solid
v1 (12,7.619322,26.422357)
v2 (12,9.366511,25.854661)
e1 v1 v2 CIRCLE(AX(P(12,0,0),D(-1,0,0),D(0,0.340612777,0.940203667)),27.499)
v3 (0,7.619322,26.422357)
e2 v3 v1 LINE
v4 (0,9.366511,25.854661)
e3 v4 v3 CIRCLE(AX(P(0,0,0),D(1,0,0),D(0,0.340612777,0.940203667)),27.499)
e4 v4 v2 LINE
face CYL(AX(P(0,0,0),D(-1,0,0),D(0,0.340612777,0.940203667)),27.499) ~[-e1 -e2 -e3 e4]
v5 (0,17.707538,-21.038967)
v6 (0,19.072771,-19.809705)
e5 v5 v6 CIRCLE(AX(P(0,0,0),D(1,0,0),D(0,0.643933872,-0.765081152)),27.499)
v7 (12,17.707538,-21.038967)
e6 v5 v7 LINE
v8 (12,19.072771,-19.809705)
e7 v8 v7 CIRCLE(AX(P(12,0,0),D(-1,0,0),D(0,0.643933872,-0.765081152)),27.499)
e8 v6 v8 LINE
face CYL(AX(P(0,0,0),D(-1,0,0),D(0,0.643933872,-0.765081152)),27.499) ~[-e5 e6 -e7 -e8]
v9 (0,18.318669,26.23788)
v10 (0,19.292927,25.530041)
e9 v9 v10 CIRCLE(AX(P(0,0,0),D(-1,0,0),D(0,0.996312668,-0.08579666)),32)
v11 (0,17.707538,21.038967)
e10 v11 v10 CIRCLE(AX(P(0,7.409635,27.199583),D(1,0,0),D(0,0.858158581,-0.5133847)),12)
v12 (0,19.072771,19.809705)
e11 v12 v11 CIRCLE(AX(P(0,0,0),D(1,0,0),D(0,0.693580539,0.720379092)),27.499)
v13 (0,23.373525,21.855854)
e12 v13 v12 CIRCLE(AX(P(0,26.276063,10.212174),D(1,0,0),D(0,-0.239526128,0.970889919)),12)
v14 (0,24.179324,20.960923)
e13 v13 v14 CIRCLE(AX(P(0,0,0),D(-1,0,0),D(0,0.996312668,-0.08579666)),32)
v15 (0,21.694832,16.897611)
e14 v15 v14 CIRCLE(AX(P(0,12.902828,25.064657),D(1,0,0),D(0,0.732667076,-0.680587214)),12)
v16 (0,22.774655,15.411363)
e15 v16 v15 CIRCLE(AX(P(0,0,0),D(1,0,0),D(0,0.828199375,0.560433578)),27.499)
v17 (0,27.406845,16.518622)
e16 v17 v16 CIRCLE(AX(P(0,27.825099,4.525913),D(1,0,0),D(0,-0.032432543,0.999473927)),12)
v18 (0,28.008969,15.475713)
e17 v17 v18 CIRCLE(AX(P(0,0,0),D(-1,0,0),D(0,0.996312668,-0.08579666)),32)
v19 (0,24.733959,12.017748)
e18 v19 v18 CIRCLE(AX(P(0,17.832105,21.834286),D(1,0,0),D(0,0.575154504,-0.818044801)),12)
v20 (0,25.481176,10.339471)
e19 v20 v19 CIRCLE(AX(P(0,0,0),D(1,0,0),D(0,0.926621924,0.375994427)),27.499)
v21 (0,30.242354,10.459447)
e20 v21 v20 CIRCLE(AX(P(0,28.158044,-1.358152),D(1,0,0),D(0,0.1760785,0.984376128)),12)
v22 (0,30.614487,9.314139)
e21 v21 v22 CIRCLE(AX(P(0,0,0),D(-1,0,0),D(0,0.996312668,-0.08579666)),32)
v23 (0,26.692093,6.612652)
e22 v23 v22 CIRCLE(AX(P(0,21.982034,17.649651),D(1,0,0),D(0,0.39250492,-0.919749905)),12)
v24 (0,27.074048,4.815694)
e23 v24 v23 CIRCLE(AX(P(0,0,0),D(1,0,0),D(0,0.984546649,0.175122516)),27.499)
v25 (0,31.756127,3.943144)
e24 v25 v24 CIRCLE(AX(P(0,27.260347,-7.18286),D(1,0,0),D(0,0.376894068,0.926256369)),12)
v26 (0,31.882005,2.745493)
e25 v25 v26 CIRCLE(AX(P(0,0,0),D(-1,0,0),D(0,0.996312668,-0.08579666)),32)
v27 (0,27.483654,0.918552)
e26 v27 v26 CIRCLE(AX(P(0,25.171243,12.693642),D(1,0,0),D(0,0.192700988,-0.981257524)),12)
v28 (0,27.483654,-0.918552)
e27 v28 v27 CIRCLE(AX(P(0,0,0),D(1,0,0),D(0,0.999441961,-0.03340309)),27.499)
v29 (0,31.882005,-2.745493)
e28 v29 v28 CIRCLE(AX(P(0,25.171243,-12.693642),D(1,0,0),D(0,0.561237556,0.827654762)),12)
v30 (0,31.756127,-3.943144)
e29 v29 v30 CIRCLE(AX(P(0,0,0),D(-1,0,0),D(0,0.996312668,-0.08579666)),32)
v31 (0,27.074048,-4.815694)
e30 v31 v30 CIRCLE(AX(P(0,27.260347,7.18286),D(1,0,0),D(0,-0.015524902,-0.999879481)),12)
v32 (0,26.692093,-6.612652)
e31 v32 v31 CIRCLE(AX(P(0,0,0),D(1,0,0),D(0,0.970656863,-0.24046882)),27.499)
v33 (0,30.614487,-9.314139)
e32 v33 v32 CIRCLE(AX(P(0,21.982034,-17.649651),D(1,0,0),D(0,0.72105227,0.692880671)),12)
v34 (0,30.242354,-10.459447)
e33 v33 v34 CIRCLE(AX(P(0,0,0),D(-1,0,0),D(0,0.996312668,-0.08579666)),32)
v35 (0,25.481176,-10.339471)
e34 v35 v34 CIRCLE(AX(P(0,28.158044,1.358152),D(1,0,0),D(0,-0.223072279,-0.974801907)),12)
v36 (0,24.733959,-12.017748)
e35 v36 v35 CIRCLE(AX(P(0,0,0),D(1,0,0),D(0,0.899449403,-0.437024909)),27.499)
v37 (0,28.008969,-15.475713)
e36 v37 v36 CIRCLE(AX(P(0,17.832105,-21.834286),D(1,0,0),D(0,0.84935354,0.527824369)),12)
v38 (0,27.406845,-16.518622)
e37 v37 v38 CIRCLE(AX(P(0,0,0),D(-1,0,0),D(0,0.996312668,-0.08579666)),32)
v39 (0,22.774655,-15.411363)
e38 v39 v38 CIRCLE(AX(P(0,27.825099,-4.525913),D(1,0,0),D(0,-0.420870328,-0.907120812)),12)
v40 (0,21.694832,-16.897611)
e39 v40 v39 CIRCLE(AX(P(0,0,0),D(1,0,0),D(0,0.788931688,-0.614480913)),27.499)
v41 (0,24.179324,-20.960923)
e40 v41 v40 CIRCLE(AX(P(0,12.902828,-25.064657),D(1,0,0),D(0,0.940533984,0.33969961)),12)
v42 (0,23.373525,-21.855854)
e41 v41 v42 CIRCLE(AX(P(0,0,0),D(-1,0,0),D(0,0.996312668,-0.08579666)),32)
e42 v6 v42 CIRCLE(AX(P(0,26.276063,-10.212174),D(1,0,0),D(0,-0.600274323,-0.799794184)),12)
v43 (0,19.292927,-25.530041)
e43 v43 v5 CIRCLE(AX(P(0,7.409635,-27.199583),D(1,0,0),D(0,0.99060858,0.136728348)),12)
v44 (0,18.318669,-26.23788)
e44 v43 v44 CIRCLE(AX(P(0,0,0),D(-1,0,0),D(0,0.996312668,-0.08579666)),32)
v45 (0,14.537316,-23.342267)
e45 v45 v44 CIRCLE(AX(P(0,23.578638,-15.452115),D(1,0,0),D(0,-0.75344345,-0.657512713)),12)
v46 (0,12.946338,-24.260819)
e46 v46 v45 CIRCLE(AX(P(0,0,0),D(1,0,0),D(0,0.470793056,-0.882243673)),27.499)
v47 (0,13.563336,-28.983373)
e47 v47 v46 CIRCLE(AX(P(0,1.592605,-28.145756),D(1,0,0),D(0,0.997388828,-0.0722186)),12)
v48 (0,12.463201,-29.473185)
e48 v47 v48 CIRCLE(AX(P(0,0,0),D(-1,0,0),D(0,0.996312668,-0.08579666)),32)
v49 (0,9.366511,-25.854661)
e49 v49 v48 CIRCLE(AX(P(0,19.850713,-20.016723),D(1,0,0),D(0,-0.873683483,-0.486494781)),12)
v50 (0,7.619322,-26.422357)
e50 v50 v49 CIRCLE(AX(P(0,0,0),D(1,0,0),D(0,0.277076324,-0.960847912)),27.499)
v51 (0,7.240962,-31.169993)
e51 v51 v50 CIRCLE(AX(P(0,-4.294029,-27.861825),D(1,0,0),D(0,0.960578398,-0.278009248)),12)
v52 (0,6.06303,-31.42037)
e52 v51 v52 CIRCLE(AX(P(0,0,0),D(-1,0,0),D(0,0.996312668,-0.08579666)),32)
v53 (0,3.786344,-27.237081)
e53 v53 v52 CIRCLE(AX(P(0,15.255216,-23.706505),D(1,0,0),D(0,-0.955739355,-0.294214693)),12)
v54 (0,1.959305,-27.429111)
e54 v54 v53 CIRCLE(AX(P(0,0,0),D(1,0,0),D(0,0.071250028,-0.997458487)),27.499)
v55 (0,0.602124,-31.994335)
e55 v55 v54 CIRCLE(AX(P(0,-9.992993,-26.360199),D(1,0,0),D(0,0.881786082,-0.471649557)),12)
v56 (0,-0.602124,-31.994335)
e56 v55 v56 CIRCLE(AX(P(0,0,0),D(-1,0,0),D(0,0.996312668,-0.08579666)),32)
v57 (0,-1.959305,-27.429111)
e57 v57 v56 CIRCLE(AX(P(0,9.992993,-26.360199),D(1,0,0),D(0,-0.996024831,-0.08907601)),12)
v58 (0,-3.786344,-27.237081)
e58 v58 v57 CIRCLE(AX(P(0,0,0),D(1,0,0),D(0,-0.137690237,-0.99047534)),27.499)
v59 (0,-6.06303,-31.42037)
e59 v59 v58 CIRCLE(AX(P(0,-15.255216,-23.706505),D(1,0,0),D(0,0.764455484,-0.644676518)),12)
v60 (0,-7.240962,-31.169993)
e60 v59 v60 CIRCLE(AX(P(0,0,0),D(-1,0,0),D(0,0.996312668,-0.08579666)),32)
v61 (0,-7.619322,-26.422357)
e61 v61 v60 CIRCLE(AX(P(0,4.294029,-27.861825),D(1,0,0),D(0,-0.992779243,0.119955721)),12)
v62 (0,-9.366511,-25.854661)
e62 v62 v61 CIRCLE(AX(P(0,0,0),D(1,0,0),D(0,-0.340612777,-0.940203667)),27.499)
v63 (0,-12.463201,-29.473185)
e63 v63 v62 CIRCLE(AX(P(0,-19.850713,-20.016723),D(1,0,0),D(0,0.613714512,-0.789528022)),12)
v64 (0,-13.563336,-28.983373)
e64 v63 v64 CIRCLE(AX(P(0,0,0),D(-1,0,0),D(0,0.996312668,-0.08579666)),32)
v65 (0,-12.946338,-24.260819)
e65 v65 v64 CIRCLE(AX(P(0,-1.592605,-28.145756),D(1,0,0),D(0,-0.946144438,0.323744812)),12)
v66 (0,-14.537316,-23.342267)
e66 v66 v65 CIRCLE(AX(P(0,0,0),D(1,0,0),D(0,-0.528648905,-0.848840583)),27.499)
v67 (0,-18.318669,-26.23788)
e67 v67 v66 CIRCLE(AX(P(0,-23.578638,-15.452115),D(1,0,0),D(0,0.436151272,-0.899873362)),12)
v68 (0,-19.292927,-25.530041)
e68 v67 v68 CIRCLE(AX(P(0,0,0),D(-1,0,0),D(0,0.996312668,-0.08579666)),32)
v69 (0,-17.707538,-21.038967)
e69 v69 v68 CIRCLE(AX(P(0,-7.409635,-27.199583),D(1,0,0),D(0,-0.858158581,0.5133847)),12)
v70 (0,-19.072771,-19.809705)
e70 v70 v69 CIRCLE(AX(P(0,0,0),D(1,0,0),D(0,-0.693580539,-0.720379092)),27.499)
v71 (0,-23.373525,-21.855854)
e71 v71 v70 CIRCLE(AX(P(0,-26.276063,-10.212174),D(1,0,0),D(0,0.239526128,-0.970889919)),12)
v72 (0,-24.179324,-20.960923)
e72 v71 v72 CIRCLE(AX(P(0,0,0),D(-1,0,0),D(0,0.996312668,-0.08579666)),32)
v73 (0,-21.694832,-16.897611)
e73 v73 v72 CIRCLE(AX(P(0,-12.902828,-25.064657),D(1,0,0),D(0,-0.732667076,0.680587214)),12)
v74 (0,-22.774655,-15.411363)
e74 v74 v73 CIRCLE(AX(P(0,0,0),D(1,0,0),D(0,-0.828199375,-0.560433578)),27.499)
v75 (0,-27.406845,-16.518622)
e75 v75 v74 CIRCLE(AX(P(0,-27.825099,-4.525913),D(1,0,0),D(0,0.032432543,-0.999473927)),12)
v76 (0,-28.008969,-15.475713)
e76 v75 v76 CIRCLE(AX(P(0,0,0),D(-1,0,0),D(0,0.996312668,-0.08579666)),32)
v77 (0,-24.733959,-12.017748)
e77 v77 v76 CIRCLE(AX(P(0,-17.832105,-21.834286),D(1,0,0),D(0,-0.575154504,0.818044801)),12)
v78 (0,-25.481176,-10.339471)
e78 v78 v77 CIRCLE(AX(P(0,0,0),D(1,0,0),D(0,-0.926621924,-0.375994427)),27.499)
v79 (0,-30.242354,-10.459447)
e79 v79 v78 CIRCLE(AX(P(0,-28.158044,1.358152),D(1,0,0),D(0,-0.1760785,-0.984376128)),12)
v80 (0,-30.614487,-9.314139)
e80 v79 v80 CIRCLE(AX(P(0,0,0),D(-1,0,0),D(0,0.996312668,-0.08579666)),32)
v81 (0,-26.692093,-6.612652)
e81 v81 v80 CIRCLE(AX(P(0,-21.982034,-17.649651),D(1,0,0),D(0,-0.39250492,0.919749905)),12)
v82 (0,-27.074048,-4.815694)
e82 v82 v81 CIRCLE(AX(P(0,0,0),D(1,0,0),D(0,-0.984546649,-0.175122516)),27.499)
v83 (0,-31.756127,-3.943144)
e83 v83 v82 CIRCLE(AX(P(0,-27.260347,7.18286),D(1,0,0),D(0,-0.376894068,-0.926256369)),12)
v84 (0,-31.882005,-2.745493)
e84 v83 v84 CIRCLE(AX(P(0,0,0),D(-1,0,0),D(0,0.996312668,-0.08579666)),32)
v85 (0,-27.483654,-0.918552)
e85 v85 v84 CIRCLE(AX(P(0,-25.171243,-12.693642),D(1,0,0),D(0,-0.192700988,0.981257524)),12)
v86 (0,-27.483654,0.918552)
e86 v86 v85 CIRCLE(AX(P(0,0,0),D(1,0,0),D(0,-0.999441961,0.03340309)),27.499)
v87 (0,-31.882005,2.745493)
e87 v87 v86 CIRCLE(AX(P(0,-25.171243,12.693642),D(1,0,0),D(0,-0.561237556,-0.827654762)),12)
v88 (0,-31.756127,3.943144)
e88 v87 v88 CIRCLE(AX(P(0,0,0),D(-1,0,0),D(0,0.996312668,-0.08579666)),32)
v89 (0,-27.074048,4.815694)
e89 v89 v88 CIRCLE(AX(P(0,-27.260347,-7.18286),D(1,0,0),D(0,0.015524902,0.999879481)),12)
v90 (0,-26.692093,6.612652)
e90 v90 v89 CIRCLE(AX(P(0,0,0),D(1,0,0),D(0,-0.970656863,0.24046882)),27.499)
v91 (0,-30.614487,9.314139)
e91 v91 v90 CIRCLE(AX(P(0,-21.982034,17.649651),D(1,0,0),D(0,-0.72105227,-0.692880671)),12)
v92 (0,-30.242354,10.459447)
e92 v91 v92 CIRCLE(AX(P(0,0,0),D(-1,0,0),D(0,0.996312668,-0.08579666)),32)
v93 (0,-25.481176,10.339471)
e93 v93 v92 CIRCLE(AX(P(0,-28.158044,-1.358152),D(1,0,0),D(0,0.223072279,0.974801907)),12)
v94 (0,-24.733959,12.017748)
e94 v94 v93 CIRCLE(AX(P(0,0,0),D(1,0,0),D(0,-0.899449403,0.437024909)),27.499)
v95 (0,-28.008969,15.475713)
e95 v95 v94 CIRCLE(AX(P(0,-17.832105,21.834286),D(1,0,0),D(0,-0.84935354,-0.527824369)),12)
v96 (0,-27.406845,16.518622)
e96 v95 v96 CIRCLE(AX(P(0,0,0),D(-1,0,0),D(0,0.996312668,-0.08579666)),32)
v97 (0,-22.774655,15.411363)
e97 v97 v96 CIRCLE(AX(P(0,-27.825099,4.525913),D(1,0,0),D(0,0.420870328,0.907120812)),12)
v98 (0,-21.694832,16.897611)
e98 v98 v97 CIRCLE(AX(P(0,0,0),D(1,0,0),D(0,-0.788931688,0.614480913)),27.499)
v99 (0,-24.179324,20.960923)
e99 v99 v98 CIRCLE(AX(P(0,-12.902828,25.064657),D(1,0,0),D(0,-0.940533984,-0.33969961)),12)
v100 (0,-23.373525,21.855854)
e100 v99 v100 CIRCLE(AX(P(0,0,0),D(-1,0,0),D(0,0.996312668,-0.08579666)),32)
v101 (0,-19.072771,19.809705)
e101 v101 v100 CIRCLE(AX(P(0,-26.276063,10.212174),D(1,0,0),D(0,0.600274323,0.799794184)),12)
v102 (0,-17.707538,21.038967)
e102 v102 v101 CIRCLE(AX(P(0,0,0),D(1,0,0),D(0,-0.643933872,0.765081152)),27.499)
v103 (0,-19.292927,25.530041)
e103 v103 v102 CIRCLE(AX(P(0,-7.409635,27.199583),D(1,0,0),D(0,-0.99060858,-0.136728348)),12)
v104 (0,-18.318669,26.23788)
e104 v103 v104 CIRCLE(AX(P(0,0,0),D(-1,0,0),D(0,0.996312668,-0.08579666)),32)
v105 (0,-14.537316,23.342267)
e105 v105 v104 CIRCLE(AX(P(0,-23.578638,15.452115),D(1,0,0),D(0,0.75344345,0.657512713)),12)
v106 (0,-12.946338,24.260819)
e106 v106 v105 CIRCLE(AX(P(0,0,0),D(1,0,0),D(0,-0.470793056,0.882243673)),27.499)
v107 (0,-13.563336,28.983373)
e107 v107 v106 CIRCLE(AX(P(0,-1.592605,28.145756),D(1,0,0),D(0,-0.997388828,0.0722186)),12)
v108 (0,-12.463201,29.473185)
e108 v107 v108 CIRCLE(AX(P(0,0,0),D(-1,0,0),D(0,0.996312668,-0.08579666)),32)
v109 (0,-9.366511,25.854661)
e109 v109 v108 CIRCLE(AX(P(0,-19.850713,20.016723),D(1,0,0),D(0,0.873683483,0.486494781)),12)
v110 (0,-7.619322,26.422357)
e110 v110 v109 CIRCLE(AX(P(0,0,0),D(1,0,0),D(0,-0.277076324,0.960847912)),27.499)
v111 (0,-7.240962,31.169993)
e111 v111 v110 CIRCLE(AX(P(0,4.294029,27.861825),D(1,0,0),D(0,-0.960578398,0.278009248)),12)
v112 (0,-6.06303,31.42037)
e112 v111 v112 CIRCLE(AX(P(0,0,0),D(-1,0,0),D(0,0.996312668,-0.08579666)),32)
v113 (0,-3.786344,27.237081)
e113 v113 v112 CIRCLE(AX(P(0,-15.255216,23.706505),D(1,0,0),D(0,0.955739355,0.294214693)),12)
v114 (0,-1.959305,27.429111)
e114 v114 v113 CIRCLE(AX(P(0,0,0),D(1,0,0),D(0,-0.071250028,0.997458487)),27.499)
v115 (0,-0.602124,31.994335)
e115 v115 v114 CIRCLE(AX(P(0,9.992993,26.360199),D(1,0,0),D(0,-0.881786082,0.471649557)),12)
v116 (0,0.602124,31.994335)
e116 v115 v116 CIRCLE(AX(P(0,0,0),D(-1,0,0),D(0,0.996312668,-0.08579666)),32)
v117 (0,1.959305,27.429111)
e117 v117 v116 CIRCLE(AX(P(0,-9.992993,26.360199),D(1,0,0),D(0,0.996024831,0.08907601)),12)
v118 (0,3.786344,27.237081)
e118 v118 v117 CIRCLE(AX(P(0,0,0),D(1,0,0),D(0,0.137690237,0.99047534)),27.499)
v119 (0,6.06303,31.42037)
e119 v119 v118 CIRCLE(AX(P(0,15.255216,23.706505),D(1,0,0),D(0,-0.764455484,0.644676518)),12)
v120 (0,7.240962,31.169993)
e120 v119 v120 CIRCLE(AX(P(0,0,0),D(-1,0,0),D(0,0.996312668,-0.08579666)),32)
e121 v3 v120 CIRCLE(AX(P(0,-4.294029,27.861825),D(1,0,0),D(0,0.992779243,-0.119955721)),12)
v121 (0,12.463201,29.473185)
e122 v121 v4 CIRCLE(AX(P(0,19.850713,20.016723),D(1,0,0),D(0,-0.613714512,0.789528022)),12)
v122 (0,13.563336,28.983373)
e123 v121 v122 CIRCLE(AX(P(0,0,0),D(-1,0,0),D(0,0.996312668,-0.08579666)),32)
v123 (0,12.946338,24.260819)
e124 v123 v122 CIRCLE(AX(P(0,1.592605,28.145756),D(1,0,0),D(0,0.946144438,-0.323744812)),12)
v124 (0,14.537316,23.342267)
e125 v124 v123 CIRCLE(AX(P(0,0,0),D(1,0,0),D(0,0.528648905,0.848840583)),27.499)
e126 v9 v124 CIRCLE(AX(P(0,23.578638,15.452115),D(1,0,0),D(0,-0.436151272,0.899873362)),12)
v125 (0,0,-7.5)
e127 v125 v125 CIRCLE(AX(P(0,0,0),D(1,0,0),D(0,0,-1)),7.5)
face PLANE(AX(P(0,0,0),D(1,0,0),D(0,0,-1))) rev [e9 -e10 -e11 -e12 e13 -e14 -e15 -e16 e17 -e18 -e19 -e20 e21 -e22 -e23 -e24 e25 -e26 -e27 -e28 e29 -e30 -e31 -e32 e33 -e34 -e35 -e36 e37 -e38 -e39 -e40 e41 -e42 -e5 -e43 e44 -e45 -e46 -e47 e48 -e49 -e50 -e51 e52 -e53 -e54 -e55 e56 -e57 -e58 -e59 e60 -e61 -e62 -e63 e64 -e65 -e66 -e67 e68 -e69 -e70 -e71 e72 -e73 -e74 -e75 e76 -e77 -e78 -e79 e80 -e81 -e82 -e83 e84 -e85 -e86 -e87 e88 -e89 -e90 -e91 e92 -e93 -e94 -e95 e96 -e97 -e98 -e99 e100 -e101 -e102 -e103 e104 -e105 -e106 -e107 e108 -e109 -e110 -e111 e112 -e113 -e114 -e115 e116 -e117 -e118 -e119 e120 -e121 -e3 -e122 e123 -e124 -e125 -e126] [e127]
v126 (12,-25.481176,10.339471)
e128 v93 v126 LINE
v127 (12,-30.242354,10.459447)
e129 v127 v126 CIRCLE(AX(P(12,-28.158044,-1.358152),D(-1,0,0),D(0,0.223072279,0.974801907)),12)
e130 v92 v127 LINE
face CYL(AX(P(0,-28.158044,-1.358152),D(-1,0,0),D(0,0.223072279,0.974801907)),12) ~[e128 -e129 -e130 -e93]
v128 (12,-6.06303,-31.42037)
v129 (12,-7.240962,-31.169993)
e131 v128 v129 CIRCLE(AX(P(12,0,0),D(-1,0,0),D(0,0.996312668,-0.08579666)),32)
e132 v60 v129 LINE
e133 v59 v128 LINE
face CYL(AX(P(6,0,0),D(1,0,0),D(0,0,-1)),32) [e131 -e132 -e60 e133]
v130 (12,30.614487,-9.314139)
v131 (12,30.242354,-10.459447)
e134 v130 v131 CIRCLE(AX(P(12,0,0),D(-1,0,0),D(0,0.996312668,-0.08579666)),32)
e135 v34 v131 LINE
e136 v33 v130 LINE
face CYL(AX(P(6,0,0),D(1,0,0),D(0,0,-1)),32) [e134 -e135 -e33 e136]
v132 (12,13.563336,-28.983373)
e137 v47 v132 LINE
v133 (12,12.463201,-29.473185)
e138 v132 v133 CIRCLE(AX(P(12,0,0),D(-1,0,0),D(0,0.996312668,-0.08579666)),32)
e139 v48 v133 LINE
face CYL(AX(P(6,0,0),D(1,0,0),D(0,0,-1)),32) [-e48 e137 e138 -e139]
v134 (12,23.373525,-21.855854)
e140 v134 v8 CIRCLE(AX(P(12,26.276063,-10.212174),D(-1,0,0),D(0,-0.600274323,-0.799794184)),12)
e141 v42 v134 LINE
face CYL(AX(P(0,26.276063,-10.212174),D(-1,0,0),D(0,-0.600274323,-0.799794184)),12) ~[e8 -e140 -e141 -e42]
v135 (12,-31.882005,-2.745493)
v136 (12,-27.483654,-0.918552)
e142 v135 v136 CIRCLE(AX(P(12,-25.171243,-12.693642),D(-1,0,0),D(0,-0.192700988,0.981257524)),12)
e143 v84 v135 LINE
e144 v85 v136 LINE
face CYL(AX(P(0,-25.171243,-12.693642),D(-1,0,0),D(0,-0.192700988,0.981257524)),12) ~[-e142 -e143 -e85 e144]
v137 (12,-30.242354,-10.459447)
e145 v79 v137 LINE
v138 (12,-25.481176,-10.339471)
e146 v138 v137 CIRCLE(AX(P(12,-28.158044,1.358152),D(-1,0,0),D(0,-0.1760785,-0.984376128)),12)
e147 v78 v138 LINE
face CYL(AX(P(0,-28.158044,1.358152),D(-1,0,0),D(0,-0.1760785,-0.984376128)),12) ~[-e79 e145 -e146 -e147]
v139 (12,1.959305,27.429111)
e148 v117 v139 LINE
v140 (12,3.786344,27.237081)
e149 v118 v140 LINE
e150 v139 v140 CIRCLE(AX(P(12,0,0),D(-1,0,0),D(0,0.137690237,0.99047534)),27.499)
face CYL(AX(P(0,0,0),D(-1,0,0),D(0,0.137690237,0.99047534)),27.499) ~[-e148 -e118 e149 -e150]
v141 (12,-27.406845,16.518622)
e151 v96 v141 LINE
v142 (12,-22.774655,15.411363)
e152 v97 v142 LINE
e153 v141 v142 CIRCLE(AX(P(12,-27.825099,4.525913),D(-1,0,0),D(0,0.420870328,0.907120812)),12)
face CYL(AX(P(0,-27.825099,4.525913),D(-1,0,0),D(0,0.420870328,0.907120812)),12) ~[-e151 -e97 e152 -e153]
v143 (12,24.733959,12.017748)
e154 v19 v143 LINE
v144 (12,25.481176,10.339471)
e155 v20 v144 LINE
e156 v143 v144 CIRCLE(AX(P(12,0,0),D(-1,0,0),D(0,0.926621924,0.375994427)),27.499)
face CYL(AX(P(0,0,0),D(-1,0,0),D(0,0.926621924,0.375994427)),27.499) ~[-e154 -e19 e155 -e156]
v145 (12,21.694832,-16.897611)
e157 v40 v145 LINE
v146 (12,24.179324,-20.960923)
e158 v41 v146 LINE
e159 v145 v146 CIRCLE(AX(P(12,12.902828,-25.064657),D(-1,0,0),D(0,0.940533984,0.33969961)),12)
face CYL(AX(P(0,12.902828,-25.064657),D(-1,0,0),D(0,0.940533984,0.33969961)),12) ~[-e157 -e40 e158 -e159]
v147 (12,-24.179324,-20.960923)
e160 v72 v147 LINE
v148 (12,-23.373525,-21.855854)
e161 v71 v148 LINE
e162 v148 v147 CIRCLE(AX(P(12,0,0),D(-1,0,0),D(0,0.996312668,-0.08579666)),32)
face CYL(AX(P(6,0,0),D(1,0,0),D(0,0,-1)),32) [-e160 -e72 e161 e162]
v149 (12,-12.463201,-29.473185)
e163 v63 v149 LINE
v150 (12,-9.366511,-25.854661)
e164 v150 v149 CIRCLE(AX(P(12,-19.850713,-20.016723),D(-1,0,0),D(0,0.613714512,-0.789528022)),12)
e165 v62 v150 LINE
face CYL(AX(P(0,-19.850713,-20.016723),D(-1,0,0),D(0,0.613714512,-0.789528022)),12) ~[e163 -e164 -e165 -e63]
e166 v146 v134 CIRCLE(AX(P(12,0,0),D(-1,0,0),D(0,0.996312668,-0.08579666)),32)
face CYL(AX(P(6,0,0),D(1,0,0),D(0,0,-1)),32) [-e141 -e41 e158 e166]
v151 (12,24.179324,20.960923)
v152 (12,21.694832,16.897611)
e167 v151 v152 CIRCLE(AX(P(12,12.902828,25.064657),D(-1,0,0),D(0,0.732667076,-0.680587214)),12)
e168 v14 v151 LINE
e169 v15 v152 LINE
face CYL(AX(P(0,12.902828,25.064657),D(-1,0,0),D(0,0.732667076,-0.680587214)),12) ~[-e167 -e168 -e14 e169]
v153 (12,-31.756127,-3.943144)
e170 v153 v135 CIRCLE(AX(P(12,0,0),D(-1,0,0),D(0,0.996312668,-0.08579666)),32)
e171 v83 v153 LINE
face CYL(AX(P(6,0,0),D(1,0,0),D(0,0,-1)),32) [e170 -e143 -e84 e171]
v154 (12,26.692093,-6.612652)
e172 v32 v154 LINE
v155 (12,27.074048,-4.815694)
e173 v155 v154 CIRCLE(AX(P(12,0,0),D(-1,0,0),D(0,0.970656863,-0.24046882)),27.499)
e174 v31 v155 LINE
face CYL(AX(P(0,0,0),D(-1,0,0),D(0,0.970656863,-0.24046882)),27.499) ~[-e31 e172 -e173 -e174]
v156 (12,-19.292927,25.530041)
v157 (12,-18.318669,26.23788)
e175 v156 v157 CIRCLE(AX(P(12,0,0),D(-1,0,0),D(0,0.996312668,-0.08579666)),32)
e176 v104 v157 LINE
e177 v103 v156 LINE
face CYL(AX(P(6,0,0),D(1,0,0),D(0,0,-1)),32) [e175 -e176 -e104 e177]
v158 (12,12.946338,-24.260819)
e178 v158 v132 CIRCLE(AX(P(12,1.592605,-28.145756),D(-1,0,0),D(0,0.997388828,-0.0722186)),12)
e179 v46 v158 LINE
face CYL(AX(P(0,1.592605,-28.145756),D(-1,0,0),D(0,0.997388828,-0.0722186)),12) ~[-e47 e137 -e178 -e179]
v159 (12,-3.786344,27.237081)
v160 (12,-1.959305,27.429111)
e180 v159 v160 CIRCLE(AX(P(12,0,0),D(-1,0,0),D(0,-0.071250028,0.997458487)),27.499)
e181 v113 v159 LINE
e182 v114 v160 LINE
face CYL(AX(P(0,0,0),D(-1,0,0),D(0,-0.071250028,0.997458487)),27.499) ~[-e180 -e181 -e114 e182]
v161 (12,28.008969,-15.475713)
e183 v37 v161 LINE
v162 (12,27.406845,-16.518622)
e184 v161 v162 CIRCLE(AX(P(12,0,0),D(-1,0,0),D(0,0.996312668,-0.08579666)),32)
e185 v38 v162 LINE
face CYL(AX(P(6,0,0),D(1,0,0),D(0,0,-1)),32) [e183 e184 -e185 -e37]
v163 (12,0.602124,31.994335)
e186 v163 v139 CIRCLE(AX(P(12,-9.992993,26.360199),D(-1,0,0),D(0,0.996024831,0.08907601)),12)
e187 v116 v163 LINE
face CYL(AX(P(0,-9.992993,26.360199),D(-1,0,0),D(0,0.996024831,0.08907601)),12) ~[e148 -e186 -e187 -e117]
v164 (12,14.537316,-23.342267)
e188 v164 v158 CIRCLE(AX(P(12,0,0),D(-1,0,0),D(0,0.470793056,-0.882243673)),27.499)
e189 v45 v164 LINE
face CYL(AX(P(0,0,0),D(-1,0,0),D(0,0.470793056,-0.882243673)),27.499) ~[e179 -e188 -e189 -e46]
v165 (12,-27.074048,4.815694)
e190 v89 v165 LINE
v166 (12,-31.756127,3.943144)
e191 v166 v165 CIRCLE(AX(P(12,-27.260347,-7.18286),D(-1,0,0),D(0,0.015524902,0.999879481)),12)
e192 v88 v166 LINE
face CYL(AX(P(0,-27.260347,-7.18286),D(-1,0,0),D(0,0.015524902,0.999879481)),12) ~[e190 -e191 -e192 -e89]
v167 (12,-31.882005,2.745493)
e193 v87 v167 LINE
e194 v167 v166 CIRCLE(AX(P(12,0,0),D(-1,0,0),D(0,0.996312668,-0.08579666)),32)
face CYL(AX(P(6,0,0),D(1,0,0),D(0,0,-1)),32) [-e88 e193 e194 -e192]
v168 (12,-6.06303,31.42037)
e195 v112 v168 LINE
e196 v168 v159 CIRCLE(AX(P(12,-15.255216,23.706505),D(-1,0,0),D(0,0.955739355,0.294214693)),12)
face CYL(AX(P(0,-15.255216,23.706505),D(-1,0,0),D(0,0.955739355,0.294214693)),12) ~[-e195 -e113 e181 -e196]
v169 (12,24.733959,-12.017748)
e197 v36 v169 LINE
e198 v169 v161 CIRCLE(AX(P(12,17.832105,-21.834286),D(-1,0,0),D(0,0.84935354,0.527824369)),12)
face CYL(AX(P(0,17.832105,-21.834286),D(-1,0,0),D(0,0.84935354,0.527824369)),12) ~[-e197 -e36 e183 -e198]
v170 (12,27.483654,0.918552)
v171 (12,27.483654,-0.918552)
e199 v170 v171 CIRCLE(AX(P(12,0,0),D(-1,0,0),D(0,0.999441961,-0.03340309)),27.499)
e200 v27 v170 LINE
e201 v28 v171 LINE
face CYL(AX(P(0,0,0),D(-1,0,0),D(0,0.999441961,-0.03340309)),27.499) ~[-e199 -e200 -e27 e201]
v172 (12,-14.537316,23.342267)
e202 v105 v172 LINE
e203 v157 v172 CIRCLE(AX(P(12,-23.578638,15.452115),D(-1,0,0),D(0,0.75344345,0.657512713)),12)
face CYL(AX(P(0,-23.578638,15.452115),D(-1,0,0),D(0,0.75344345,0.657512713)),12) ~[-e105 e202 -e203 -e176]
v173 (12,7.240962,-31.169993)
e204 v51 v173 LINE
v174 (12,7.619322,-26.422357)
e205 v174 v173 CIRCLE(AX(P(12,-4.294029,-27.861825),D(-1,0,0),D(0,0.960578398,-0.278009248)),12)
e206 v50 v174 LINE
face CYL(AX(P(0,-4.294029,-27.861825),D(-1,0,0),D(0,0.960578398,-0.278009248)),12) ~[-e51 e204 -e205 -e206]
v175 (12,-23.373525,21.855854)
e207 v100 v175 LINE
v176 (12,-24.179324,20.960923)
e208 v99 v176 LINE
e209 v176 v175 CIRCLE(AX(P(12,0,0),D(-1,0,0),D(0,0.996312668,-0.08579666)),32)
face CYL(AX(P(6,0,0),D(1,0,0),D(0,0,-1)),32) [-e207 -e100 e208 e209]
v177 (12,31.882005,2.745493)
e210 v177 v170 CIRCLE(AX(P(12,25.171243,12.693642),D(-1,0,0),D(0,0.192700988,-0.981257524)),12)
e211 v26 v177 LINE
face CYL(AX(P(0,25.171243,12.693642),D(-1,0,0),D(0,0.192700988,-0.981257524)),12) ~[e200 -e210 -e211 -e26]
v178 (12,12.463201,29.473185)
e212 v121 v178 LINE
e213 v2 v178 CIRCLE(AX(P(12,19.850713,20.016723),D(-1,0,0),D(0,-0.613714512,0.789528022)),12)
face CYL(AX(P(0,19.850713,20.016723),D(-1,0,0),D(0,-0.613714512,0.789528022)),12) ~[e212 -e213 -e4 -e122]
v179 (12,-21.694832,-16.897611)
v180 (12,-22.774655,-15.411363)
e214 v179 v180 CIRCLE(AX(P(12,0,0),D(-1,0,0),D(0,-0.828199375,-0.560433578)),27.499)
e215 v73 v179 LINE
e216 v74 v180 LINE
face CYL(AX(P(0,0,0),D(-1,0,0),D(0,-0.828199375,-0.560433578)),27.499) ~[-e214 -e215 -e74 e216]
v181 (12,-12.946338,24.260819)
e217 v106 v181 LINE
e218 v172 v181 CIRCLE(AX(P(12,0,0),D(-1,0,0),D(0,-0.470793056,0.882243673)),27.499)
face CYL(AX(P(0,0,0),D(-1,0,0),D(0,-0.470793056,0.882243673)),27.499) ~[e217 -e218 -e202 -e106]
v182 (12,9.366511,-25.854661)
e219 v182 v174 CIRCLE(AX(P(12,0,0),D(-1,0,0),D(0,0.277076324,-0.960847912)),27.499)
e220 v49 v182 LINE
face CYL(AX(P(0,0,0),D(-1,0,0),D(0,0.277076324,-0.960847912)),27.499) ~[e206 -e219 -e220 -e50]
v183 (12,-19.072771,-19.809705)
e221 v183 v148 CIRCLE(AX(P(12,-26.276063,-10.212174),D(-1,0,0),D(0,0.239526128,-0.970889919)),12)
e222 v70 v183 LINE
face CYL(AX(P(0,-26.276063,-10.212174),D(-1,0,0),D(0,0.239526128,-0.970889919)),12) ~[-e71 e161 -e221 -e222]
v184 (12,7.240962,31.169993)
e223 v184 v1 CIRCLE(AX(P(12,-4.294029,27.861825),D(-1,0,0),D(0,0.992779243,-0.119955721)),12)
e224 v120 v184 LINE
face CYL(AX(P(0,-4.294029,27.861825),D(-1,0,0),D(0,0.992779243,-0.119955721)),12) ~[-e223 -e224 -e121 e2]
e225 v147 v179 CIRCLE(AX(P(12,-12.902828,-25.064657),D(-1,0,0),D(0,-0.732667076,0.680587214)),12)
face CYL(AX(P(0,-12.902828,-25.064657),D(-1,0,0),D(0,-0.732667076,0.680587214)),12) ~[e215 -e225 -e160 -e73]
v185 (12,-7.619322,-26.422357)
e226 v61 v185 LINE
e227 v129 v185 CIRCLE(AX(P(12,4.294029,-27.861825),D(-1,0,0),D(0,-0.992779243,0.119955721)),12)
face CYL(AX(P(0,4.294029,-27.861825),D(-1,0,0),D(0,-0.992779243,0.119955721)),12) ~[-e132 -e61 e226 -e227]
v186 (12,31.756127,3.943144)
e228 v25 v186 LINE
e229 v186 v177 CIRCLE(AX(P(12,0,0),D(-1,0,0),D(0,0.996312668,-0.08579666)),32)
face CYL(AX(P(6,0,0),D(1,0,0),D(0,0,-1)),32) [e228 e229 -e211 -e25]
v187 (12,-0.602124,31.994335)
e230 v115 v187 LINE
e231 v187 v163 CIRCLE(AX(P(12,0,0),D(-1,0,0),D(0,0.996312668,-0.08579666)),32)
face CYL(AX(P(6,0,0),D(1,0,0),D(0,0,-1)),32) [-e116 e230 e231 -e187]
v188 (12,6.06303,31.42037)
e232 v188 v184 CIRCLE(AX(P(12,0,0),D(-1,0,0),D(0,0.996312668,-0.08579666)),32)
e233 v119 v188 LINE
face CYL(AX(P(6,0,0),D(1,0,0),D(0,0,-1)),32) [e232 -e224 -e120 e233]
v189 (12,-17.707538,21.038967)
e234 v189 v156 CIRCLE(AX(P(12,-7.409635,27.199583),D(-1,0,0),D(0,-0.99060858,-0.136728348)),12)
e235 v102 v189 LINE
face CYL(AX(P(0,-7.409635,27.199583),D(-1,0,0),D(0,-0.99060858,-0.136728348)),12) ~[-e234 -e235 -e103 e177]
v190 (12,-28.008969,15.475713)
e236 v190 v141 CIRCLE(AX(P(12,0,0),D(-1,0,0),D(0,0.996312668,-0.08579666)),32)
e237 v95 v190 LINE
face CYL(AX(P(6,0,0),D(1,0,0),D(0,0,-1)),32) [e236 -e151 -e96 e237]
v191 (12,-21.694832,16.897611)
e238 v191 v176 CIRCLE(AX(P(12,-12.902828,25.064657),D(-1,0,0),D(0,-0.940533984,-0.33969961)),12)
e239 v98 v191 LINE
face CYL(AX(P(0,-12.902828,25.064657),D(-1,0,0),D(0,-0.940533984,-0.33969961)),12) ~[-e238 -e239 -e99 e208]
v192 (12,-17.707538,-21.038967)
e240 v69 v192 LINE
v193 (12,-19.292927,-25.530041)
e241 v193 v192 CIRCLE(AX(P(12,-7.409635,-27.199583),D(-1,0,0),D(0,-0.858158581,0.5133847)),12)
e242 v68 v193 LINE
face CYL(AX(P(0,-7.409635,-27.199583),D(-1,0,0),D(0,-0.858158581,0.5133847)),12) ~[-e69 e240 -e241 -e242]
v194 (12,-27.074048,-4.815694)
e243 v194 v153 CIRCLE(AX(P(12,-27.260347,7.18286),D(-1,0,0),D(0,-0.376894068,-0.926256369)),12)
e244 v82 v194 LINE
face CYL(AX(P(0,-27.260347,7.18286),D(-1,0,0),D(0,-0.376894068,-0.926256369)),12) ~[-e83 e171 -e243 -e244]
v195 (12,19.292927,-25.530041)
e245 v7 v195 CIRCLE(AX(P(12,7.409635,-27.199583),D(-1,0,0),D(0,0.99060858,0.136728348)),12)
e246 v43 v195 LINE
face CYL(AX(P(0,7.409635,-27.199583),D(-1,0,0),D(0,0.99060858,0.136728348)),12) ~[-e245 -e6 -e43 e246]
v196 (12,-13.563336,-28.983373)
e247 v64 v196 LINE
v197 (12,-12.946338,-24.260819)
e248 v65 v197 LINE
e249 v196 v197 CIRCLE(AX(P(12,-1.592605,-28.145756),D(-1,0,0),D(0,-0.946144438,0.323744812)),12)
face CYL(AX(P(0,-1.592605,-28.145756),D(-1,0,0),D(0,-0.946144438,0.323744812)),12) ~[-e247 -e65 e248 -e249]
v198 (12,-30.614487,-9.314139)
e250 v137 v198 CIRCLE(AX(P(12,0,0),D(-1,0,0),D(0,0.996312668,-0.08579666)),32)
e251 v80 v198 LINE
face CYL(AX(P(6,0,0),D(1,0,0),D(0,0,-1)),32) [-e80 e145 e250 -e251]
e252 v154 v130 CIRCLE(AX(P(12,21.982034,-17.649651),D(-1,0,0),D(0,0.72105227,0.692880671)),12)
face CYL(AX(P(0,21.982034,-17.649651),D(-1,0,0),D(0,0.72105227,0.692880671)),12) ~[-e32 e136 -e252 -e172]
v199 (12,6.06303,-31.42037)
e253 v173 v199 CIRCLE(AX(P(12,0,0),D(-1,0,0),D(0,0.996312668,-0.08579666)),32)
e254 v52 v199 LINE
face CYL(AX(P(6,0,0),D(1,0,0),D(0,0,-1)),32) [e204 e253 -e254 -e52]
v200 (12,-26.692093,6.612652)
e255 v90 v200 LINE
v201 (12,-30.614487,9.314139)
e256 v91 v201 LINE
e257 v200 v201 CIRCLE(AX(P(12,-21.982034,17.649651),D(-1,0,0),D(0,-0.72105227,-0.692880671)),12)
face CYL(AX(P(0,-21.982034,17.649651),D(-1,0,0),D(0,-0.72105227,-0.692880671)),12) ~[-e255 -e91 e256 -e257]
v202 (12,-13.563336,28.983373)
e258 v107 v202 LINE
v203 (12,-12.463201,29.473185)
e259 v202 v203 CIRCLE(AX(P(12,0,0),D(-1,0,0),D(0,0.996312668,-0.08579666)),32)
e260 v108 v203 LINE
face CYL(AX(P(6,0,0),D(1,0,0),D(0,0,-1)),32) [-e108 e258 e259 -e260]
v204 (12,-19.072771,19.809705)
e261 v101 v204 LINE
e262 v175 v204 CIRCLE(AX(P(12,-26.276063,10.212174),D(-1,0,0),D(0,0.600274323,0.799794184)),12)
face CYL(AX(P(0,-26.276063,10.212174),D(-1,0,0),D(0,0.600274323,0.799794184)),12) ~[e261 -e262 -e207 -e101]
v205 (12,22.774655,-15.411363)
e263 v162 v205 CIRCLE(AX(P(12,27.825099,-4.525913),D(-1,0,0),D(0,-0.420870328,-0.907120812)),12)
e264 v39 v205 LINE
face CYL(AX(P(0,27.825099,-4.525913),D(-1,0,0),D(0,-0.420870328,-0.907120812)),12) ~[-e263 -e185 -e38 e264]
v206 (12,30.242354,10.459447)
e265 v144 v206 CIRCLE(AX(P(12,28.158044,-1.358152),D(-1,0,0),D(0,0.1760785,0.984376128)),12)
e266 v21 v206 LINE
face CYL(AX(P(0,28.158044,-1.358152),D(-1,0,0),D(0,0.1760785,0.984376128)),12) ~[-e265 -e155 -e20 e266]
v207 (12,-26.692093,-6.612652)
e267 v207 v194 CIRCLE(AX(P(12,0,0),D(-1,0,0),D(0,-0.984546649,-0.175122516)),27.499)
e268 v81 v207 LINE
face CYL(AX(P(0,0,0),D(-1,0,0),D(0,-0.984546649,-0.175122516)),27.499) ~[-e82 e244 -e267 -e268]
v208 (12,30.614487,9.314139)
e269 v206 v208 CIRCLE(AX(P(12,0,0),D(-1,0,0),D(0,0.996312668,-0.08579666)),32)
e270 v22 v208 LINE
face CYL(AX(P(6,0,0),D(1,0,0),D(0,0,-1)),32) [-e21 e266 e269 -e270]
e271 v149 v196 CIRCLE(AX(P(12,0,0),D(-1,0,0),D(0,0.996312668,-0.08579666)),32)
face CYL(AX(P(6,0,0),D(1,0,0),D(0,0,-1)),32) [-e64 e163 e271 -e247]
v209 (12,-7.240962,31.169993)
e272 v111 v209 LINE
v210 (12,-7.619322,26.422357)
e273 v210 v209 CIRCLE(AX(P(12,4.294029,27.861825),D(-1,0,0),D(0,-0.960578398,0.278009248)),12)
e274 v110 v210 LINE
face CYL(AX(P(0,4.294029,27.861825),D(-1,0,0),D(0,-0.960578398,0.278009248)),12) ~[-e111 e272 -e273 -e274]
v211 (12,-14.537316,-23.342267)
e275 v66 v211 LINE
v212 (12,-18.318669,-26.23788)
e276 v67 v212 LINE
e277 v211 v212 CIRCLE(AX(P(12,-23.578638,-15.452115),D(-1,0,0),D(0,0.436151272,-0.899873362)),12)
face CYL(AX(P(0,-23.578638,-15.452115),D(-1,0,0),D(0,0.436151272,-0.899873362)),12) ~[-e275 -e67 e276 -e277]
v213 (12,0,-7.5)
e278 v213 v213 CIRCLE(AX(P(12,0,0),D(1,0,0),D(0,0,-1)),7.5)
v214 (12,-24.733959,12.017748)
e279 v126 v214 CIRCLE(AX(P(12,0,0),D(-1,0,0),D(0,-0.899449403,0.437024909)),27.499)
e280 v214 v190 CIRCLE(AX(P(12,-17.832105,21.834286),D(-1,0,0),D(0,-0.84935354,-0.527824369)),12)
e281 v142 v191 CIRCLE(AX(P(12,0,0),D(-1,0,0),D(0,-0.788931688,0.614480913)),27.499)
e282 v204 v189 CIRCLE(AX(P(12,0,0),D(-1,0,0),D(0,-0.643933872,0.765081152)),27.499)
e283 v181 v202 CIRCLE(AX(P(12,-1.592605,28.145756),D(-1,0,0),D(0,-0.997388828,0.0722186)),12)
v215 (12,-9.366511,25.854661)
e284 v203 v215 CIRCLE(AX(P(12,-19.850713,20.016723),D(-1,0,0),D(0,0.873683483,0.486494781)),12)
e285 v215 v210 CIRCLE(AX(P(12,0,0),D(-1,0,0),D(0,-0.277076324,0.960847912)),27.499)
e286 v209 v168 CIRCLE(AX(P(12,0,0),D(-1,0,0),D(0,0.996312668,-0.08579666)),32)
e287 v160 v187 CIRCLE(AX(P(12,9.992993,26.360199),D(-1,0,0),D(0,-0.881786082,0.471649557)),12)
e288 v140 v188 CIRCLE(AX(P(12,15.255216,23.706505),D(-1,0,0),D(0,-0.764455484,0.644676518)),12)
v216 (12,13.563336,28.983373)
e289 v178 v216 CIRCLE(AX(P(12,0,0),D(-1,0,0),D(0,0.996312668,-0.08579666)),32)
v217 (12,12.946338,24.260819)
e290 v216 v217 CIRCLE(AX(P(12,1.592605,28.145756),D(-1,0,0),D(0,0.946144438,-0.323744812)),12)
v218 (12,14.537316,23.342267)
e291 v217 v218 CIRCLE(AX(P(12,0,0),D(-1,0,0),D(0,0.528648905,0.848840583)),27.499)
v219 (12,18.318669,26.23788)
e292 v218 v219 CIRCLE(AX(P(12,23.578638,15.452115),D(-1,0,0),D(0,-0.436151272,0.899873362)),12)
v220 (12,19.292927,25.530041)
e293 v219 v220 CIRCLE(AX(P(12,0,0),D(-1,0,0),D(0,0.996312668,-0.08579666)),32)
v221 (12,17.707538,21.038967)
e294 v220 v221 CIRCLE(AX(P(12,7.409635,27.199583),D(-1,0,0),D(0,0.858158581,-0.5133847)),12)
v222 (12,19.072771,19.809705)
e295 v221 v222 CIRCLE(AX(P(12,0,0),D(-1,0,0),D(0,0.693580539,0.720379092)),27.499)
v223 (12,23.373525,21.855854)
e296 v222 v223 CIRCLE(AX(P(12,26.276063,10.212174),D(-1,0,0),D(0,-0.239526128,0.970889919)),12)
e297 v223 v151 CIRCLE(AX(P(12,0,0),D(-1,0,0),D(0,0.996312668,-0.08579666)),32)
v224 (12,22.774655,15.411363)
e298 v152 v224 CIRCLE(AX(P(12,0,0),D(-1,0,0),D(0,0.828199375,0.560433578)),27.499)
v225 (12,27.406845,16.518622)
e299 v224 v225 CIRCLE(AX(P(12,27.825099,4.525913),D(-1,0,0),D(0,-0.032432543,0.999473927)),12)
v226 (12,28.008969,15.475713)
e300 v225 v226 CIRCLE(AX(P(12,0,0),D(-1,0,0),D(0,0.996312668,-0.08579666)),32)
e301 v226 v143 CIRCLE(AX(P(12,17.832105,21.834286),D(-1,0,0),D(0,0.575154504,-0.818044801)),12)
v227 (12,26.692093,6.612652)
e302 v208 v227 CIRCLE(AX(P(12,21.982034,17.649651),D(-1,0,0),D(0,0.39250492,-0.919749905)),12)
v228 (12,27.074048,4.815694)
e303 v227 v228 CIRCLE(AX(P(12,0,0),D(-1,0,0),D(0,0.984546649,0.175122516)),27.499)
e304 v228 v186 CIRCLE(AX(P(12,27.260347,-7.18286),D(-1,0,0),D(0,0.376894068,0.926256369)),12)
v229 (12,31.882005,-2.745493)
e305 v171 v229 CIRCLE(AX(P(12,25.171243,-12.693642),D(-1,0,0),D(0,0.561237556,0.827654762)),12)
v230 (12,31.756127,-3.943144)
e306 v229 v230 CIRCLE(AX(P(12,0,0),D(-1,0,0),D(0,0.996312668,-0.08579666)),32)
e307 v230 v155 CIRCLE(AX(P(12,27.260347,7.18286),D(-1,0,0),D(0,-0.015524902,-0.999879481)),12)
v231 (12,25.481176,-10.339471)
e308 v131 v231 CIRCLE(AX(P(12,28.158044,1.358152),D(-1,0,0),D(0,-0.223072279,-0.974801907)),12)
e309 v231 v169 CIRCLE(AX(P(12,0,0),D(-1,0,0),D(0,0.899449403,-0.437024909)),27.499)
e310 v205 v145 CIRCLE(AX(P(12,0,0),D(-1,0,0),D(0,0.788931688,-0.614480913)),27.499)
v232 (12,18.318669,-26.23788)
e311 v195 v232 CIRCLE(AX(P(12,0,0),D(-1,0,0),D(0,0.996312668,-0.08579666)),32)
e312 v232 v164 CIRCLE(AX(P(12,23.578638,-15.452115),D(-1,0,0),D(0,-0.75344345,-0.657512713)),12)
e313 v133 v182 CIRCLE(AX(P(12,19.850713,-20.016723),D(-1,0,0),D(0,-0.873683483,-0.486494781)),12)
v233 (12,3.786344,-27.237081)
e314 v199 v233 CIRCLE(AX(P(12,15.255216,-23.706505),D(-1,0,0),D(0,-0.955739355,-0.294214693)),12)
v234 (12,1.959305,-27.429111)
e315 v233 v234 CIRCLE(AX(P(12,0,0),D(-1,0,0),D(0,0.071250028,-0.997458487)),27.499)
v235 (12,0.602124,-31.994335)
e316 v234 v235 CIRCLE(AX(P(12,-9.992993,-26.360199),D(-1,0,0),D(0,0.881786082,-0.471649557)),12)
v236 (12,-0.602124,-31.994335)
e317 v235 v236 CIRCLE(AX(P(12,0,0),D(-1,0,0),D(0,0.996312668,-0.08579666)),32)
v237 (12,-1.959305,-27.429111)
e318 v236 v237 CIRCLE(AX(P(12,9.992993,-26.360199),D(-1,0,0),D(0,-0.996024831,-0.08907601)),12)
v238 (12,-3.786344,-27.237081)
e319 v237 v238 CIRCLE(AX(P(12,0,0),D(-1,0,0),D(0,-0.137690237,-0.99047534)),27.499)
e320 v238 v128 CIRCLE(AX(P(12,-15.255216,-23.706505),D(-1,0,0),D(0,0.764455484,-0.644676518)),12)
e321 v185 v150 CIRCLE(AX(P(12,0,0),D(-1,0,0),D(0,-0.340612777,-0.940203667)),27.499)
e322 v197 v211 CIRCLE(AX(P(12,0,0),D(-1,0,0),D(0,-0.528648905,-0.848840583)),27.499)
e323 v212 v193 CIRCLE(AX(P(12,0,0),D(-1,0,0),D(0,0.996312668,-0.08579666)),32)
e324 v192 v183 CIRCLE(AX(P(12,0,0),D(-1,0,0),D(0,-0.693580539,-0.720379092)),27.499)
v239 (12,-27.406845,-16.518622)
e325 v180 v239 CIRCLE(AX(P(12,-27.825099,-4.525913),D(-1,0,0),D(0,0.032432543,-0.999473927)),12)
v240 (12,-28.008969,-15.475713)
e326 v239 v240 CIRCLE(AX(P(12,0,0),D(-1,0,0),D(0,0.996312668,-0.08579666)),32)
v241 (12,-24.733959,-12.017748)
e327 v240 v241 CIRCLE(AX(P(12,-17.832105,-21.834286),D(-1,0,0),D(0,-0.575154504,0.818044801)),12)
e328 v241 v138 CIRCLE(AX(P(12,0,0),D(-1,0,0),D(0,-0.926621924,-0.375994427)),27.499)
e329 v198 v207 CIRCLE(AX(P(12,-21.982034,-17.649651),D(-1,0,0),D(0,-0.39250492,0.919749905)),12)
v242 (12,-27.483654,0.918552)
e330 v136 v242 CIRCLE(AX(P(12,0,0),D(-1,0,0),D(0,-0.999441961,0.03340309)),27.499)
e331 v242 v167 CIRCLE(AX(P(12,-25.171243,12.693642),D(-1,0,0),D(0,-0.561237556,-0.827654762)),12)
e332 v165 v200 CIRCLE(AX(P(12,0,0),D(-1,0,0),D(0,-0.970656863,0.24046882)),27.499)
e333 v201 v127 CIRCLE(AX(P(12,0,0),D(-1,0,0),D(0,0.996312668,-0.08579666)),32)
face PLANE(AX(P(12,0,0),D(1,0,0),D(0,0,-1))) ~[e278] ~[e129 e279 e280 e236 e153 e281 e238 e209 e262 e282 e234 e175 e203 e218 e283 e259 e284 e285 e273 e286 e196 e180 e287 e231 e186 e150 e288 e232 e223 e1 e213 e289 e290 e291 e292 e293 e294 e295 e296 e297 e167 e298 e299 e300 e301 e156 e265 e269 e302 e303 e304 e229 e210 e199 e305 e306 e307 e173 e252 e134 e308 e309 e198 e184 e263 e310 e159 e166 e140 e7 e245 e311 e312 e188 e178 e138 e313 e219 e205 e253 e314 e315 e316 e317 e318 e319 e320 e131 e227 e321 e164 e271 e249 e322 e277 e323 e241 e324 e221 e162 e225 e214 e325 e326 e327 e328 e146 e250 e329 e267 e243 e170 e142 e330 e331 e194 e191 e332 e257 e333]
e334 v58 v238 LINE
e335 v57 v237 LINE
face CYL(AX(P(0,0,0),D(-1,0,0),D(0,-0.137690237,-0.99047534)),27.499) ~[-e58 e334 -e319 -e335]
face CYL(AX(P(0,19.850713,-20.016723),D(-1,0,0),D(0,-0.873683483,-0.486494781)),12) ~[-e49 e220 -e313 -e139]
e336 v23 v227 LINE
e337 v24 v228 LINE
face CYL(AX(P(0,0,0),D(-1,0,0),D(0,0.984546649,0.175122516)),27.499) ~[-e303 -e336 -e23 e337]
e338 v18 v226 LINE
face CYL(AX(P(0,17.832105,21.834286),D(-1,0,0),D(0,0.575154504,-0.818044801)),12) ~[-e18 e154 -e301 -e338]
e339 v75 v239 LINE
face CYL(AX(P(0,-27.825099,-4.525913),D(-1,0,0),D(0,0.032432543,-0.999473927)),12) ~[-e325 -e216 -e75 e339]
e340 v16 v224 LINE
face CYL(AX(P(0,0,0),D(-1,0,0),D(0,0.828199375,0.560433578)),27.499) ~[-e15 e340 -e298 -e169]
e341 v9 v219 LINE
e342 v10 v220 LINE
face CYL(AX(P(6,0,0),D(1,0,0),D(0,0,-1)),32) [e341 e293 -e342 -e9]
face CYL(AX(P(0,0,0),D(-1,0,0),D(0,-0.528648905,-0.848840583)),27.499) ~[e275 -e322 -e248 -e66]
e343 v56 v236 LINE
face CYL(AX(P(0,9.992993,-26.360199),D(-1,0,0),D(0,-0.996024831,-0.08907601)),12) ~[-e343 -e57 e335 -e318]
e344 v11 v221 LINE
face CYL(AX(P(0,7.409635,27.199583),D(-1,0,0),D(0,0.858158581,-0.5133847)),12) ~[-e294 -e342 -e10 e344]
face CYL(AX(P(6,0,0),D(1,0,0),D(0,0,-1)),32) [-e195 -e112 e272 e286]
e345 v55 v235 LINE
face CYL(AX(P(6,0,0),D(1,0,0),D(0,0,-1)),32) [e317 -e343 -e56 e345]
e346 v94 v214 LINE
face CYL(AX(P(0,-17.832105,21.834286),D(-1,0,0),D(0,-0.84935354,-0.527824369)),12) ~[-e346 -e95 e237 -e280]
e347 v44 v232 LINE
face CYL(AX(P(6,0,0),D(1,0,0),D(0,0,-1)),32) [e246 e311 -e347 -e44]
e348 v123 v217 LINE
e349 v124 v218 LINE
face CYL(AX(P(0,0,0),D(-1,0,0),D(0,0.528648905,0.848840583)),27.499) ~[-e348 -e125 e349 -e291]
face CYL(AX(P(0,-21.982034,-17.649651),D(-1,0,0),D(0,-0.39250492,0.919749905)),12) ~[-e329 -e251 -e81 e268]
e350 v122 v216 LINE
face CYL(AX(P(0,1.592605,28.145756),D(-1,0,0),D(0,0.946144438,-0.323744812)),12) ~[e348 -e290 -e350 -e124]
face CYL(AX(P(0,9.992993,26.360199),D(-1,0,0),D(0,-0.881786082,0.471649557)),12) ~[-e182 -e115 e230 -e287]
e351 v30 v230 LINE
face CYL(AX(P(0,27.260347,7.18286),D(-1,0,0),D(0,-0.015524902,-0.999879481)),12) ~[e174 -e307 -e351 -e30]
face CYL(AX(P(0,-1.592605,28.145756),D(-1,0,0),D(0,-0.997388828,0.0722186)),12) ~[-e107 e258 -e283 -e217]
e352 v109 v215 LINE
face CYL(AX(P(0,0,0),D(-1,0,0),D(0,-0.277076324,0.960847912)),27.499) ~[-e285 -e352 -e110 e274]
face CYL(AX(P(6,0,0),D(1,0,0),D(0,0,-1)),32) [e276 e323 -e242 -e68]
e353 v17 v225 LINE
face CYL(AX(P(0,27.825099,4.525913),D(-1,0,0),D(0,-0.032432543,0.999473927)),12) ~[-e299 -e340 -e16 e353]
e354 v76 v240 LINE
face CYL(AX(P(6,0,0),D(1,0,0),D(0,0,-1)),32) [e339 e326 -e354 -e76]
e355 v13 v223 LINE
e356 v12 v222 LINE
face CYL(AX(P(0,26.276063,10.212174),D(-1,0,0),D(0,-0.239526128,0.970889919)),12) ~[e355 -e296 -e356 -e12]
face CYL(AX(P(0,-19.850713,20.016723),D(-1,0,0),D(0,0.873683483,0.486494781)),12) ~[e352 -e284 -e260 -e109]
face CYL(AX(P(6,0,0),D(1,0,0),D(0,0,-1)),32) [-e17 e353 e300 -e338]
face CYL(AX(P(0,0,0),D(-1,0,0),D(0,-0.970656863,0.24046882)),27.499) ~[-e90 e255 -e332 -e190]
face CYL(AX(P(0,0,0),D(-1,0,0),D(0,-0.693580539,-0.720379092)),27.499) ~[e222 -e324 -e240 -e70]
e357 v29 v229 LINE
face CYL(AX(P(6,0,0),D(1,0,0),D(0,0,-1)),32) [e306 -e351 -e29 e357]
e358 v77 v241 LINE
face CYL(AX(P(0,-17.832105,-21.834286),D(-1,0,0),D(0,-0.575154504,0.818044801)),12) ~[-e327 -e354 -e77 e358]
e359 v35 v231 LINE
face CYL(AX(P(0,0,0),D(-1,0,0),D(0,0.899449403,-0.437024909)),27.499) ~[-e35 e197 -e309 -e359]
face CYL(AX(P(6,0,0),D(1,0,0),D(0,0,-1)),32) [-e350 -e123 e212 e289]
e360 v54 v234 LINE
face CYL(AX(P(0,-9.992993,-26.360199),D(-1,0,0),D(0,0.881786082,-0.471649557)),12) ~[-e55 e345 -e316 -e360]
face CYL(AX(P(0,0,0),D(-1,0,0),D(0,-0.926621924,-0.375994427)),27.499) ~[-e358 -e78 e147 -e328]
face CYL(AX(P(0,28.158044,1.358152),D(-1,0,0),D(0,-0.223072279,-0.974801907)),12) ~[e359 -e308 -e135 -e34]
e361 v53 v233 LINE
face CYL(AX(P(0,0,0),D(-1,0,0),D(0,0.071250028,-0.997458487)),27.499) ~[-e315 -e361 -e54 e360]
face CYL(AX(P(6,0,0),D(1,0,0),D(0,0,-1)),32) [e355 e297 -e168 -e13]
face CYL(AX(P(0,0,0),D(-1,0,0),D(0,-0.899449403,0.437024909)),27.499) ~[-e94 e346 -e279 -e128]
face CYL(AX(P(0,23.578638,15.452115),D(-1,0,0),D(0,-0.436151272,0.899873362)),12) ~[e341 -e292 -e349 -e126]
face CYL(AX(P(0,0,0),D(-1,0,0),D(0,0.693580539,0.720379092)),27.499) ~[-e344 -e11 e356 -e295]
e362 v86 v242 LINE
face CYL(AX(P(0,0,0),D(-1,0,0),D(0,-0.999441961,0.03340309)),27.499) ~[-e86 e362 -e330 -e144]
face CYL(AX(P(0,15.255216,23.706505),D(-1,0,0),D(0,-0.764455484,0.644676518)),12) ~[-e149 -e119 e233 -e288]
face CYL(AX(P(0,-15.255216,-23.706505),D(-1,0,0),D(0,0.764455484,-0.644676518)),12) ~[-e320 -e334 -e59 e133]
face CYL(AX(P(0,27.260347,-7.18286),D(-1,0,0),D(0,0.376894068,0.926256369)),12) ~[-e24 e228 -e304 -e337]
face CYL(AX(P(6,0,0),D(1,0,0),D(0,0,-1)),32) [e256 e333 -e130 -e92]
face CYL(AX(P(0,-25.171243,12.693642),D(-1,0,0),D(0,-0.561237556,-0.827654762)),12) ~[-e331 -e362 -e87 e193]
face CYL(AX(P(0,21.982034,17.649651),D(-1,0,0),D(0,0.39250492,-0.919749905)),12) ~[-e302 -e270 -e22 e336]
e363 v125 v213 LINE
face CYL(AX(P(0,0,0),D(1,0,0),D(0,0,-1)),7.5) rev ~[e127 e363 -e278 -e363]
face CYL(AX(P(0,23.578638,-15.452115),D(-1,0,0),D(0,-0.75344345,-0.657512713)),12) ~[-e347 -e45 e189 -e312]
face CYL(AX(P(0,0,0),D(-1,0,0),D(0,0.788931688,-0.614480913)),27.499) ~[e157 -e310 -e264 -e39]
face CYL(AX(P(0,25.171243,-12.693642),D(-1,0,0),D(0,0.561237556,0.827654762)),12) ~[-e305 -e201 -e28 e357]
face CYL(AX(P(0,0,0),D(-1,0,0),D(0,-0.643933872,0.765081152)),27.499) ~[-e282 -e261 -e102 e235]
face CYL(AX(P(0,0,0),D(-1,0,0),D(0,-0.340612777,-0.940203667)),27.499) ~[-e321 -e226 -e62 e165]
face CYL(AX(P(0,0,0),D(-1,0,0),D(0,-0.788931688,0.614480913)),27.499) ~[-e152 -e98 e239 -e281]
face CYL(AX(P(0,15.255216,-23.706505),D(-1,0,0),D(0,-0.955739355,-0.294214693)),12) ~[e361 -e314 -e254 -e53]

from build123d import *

# Parameters (mm, degrees)
BASPROSKE_W     = 12
BASPROSKE_H     = 32
TOOTHCUT_DEPTH  = 13
TEETHCUTS_COUNT = 30
TEETHCUTS_ANGLE = 348
BORSKE_R        = 7.5
BORE_DEPTH      = 50.0000508


with BuildPart() as part:
    # BasProSke → Base-Revolve (revolve)
    with BuildSketch(Plane(origin=(0, 0, 0), x_dir=(1, 0, 0), z_dir=(0, 1, 0))):
        with Locations((6, 16)):
            Rectangle(BASPROSKE_W, BASPROSKE_H)
    revolve(axis=Axis((-10, 0, 0), (1, 0, 0)))

    # TooCutSke → ToothCut (cut, through all)
    with BuildSketch(Plane(origin=(0, 0, 0), x_dir=(0, 0, -1), z_dir=(1, 0, 0))):
        with BuildLine():
            ThreePointArc((0.918551563, 27.483654488), (0, 27.499), (-0.918551563, 27.483654488))
            ThreePointArc((-0.918551563, 27.483654488), (-1.617208176, 29.787801627), (-2.761784709, 31.906093311))
            ThreePointArc((-2.761784709, 31.906093311), (0, 32.0254), (2.761784709, 31.906093311))
            ThreePointArc((2.761784709, 31.906093311), (1.617208176, 29.787801627), (0.918551563, 27.483654488))
        make_face()
    toothcut = extrude(amount=TOOTHCUT_DEPTH, mode=Mode.SUBTRACT)

    # TeethCuts: ToothCut ×30 about axis
    teethcuts_axis = Axis((-10, 0, 0), (1, 0, 0))
    for i in range(1, TEETHCUTS_COUNT):
        add(toothcut.rotate(teethcuts_axis, i * TEETHCUTS_ANGLE / (TEETHCUTS_COUNT - 1)), mode=Mode.SUBTRACT)

    # BorSke → Bore (cut, symmetric)
    with BuildSketch(Plane(origin=(0, 0, 0), x_dir=(0, 0, -1), z_dir=(1, 0, 0))):
        Circle(BORSKE_R)
    extrude(amount=BORE_DEPTH, both=True, mode=Mode.SUBTRACT)


solid = part.part
